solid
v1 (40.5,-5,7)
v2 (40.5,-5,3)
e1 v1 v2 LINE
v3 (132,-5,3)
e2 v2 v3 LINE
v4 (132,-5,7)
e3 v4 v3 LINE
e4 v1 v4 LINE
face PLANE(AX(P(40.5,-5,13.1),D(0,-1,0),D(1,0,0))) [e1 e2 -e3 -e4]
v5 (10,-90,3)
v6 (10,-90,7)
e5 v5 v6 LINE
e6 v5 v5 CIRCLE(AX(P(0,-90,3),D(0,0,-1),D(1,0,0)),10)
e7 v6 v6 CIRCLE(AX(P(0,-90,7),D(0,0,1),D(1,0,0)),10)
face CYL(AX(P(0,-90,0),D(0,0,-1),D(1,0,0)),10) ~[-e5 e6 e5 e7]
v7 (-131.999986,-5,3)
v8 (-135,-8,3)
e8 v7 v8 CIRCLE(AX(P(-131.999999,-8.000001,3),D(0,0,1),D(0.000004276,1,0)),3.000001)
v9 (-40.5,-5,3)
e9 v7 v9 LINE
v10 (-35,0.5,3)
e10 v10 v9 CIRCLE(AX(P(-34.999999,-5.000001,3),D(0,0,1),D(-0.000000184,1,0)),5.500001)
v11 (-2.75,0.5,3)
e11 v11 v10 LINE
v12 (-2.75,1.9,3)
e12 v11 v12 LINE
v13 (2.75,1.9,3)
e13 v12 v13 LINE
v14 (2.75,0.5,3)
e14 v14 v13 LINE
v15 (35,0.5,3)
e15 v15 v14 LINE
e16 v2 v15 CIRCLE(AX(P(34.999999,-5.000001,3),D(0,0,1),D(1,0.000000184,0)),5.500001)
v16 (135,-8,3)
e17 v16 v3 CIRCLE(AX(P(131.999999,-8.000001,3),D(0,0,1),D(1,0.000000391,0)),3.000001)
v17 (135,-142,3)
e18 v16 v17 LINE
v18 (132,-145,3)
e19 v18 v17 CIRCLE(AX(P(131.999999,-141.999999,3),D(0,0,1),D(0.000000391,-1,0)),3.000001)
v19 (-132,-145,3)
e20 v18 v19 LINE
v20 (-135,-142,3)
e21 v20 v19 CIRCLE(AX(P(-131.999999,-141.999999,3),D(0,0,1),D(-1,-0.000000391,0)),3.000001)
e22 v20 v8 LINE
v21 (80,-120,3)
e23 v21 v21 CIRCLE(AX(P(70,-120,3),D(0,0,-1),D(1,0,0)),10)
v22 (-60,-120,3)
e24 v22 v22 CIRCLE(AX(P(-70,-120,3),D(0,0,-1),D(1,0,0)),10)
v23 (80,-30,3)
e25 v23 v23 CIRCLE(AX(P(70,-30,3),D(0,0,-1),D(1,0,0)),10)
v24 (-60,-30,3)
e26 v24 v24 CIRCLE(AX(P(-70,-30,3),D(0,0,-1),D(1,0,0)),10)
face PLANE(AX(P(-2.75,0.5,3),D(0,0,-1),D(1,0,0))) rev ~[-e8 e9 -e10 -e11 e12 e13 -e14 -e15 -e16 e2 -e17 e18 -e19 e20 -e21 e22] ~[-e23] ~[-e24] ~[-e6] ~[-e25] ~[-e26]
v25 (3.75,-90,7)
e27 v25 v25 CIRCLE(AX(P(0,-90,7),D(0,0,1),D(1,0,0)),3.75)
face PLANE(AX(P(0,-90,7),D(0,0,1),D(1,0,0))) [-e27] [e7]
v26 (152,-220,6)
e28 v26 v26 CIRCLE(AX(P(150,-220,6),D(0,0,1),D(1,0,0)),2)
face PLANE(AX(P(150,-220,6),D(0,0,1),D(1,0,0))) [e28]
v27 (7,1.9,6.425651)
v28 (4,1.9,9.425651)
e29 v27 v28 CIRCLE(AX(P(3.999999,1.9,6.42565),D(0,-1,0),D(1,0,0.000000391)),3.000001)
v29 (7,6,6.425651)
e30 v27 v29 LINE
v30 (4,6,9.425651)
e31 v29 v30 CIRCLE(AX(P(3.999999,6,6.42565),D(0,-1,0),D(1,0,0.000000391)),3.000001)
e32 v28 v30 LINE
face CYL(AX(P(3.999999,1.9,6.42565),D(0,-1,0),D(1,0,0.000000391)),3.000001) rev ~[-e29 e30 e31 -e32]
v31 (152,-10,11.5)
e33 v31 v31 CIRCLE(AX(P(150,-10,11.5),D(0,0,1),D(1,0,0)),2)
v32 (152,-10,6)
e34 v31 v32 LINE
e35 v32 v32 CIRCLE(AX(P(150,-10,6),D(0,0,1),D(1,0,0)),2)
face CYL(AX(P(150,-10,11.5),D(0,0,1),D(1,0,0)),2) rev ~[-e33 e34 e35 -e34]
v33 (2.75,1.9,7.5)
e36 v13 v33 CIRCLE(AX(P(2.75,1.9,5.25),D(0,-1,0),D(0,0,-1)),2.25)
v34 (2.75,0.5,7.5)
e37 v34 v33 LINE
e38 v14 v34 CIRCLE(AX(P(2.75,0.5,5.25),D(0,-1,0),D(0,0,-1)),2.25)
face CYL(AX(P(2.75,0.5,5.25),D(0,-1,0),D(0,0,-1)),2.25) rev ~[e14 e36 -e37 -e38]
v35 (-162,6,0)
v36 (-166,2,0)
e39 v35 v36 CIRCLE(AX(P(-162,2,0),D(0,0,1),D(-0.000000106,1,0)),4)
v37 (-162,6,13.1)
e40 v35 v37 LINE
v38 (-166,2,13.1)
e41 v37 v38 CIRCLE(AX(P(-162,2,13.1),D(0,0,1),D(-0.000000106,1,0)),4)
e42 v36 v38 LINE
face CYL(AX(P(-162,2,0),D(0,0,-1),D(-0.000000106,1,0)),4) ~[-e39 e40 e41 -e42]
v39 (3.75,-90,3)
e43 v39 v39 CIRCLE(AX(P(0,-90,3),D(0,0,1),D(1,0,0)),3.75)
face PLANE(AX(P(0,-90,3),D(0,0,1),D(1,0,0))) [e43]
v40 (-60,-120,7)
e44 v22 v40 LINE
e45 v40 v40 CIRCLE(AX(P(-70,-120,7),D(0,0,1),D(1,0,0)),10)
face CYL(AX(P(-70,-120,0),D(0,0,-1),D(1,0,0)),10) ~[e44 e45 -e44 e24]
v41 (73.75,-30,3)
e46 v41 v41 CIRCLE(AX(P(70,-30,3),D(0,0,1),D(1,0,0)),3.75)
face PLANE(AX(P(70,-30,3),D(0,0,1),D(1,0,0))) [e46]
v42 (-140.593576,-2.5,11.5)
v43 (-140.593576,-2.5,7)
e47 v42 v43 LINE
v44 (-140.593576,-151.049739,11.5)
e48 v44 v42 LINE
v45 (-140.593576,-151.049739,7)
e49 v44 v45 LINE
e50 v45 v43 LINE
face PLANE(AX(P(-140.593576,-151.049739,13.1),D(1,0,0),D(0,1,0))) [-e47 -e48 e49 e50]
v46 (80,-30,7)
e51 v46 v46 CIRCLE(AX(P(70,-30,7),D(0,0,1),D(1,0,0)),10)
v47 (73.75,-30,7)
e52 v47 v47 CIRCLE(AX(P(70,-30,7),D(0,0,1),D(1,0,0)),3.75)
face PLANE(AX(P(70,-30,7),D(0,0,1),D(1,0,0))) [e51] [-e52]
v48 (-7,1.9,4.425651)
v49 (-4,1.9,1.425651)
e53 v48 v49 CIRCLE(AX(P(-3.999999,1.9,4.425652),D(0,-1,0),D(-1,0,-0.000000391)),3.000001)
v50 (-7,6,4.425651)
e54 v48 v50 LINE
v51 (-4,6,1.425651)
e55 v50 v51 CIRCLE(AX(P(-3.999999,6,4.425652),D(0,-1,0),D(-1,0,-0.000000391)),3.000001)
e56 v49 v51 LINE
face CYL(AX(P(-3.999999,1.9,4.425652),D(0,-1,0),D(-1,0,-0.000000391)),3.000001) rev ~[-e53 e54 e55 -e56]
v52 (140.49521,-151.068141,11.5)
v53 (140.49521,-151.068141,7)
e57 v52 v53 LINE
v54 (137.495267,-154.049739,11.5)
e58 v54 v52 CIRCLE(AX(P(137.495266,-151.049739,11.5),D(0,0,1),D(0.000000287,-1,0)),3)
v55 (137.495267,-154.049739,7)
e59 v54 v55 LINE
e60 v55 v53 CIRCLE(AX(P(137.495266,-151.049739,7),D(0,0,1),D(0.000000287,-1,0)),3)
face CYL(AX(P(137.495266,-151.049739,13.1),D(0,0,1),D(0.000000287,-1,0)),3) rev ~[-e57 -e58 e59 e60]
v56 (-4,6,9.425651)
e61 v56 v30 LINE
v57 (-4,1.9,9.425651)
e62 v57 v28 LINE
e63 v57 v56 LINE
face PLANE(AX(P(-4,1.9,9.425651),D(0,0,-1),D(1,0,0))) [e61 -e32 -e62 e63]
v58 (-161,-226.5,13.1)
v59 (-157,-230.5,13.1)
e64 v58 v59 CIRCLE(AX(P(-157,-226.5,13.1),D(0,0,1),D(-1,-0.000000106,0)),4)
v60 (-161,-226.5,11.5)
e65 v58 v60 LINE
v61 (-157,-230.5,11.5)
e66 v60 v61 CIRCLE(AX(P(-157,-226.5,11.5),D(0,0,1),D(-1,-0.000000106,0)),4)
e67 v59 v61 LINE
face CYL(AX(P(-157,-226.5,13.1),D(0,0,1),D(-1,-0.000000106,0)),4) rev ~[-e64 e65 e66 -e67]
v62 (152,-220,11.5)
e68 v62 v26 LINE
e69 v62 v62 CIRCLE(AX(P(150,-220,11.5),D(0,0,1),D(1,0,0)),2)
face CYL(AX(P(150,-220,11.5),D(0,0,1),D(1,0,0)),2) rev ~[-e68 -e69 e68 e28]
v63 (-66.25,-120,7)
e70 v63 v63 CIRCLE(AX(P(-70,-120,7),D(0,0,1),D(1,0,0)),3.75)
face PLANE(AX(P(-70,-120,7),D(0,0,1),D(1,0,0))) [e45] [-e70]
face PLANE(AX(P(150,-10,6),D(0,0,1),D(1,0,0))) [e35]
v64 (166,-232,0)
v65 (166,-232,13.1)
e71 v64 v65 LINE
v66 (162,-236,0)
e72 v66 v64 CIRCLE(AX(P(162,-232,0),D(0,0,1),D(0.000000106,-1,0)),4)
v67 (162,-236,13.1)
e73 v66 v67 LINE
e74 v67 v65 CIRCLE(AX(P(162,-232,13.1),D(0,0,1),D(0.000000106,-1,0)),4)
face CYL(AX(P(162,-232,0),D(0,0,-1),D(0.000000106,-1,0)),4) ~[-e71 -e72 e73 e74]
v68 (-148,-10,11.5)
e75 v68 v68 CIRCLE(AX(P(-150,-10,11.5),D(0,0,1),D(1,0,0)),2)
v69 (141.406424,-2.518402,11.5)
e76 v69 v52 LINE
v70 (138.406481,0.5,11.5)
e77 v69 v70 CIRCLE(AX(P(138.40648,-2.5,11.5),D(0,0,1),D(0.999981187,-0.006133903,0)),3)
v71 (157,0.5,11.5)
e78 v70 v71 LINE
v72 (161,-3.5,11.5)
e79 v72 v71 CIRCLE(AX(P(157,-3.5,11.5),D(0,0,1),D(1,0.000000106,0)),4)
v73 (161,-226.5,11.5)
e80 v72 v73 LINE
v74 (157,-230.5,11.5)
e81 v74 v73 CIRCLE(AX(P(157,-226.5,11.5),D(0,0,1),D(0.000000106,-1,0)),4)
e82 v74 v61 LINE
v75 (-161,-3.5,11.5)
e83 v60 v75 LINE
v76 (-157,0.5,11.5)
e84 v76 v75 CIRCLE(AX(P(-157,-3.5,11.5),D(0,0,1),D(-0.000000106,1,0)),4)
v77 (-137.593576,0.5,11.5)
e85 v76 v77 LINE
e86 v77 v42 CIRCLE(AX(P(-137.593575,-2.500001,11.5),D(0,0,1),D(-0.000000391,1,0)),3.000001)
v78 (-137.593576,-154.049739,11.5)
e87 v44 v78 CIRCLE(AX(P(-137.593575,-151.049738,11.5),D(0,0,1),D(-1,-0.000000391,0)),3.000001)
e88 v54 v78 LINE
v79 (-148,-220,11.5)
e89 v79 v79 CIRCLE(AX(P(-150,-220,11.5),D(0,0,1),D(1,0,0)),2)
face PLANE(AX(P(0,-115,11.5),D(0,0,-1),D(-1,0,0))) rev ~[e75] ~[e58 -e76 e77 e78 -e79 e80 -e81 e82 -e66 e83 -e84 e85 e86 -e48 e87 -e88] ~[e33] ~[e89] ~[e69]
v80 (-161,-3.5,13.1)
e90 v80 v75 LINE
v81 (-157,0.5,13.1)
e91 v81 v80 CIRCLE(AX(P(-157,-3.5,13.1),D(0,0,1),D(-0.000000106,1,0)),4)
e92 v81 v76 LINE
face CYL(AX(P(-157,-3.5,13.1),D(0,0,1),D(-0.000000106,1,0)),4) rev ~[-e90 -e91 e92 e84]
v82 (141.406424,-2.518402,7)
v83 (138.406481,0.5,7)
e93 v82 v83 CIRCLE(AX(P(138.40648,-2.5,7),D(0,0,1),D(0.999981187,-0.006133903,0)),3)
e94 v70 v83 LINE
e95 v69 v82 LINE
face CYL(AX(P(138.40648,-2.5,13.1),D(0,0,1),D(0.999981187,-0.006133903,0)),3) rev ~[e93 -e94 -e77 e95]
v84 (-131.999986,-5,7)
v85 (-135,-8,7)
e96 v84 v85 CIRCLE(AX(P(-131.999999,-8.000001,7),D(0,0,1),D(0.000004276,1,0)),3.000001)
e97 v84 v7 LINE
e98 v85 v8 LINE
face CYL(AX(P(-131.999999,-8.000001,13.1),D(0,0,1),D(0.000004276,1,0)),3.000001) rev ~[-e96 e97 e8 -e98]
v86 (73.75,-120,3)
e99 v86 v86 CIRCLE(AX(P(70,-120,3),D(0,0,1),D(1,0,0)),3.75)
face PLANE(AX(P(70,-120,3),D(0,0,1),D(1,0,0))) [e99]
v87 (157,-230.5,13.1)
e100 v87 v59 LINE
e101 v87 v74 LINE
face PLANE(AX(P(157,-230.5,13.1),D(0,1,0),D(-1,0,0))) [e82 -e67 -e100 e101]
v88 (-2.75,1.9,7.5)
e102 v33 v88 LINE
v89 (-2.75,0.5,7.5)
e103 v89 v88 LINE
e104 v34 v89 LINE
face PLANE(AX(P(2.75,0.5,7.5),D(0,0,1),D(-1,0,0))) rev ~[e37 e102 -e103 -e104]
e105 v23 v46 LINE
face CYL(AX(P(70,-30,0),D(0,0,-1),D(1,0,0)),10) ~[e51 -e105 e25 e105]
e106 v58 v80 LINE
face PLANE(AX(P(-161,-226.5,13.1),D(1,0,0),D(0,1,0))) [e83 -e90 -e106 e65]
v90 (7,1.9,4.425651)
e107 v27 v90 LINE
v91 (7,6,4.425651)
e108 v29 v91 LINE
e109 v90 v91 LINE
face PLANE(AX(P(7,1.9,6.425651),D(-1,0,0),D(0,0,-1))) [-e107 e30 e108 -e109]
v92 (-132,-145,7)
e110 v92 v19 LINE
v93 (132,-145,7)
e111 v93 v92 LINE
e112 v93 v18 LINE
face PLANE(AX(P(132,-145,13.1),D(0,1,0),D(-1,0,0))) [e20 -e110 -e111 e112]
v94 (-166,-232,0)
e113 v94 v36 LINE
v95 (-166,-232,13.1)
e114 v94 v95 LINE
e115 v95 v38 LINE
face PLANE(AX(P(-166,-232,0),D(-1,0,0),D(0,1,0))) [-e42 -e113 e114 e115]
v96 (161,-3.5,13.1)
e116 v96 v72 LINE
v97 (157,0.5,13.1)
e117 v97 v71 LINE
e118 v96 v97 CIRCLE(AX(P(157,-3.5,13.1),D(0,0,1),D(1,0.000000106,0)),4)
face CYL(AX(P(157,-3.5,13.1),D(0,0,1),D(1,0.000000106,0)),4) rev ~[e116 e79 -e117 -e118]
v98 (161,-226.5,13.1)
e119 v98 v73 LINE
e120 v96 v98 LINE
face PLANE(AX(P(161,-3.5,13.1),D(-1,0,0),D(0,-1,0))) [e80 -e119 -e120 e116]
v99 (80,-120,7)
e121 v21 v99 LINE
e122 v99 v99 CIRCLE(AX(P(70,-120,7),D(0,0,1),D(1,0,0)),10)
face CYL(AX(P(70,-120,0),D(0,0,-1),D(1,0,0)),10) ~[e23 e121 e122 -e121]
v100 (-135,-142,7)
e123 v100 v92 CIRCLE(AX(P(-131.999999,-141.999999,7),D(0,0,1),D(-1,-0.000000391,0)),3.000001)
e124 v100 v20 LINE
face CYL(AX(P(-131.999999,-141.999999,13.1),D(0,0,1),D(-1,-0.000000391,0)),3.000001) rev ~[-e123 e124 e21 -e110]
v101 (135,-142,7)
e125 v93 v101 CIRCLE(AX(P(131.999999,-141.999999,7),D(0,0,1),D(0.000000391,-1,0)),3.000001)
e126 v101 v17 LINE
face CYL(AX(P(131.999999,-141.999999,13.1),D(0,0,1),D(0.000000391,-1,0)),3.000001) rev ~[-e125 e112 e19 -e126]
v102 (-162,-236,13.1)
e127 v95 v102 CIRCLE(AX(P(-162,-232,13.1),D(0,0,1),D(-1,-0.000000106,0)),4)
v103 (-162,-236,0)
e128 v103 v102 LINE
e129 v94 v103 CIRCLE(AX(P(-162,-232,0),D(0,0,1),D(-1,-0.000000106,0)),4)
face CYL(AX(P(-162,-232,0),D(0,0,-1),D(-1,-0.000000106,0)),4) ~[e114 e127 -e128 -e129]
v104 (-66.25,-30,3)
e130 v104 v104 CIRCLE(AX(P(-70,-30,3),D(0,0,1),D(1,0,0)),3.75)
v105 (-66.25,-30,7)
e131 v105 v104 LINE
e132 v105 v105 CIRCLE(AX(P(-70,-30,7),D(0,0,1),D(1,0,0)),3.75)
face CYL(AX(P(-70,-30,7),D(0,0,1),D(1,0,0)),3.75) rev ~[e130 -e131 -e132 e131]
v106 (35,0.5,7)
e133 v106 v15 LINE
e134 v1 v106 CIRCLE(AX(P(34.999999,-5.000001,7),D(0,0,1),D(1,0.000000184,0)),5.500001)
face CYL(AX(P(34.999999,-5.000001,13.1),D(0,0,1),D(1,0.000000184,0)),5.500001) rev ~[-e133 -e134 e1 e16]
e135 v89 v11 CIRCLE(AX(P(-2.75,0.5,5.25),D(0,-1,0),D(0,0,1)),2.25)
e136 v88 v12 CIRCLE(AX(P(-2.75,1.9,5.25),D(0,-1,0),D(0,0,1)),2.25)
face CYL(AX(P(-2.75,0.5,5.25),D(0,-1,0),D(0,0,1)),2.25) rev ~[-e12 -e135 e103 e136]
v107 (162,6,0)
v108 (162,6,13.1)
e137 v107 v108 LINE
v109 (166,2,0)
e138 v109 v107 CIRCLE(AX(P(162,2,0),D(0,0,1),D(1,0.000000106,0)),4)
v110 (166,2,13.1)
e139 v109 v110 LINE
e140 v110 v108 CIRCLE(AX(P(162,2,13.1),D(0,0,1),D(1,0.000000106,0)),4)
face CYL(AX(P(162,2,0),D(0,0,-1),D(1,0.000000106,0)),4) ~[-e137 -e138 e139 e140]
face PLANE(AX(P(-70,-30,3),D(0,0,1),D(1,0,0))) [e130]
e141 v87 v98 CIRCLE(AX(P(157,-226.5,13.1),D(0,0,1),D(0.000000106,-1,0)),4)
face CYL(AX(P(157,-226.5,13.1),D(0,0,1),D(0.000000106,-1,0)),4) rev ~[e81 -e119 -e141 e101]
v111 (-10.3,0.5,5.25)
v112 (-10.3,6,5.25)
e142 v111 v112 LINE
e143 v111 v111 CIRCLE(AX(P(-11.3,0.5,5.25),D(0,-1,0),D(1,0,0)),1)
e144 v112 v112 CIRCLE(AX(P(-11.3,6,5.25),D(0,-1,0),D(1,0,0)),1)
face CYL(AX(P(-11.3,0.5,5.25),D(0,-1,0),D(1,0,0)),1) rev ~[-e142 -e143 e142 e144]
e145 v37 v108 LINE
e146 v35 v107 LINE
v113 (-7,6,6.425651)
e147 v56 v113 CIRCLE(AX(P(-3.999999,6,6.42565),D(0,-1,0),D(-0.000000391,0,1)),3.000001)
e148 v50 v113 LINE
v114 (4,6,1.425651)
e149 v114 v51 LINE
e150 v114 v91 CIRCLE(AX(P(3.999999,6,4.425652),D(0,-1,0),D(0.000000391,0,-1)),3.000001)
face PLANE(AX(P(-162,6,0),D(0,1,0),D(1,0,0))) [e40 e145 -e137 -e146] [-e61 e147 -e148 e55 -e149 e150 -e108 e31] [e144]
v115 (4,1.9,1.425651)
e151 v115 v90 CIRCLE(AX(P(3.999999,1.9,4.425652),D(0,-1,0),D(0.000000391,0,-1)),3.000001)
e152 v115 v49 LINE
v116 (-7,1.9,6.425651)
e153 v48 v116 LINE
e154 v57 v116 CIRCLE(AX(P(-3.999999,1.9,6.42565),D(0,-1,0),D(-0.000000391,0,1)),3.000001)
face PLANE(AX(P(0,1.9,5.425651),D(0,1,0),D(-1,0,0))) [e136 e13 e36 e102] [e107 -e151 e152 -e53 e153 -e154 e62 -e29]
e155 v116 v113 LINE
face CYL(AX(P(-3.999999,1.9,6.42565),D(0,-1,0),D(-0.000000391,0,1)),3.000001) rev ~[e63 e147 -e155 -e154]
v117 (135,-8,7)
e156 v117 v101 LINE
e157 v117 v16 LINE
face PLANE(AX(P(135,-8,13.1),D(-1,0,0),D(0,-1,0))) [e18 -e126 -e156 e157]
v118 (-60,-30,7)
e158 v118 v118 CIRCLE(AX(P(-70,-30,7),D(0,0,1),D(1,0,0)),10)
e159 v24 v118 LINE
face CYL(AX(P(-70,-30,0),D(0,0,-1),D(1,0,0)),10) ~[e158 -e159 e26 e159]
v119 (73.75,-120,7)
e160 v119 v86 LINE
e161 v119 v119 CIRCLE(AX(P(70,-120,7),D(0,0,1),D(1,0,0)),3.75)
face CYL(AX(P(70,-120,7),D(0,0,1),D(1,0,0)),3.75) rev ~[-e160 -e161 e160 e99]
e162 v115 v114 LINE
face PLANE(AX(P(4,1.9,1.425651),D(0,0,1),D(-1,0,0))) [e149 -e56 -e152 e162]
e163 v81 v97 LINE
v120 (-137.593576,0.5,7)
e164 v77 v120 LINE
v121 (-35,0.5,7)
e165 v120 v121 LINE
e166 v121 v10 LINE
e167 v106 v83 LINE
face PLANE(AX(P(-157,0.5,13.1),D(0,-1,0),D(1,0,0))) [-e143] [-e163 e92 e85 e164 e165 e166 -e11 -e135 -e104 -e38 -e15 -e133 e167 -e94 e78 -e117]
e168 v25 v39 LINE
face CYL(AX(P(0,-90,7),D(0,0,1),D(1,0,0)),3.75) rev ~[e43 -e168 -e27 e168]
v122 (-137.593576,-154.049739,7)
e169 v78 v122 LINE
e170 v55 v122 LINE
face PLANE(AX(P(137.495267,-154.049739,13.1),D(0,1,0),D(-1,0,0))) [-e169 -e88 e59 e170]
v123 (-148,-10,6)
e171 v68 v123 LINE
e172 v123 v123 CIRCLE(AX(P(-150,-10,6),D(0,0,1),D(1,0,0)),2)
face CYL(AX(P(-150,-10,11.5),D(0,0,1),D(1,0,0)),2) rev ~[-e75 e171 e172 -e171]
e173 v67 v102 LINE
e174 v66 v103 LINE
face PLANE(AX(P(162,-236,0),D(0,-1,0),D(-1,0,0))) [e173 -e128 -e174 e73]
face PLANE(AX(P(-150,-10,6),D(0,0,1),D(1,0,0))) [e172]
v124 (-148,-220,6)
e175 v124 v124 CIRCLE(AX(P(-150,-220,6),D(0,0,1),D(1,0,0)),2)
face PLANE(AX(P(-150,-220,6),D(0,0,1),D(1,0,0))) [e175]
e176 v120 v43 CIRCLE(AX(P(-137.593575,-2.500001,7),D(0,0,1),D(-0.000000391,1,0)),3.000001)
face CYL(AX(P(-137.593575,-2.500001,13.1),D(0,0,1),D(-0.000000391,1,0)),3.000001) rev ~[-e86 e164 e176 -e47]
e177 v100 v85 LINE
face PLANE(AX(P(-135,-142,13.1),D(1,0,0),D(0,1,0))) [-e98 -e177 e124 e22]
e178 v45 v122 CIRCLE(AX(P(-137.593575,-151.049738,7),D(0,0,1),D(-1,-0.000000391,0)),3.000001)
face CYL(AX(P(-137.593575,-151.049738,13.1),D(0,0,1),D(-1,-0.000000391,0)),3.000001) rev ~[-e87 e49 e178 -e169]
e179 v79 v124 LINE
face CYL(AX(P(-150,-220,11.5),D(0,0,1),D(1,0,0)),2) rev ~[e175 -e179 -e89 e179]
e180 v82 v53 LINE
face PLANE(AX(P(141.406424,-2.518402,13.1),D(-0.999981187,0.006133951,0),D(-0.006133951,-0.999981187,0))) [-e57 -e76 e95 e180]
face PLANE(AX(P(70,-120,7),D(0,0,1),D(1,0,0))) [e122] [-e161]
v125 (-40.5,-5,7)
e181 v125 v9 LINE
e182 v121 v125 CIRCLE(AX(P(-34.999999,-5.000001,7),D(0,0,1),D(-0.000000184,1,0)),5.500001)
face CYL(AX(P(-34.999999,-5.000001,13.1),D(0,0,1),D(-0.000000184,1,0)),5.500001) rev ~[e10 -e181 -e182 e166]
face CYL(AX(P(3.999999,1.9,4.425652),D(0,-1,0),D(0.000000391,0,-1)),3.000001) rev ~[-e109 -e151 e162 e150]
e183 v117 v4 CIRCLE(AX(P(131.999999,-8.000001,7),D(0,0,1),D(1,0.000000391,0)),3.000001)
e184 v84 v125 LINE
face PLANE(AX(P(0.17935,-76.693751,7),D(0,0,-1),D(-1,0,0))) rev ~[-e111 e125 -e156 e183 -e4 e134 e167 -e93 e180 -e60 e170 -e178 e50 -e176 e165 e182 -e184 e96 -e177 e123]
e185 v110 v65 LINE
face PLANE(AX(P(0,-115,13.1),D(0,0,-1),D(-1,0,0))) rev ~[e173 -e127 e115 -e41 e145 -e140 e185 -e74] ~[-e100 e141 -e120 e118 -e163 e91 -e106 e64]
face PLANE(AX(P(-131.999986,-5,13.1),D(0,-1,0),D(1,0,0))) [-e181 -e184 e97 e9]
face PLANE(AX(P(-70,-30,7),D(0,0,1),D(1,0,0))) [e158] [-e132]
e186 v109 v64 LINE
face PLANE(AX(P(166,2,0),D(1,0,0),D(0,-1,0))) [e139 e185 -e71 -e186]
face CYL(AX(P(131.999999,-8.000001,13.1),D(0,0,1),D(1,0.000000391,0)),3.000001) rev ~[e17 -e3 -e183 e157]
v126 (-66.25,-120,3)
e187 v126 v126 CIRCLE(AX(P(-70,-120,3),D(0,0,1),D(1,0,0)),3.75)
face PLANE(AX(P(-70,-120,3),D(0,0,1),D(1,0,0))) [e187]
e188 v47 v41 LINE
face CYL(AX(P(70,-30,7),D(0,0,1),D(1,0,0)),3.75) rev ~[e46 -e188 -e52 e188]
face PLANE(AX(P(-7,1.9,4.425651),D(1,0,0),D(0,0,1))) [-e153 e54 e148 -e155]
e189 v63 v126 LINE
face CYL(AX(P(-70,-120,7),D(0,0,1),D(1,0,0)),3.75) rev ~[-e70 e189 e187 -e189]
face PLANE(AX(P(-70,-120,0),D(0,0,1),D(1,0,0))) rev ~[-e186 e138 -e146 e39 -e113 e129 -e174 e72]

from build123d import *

# Parameters (mm, degrees)
PAD_DEPTH       = 13.1
POCKET_DEPTH    = 10.1
POCKET006_DEPTH = 6.1
SKETCH012_R     = 10
PAD003_DEPTH    = 7
SKETCH015_R     = 1
POCKET003_DEPTH = 6
POCKET004_DEPTH = 4.1
SKETCH013_R     = 3.75
POCKET001_DEPTH = 4
POCKET002_DEPTH = 1.6
SKETCH017_R     = 2
POCKET005_DEPTH = 5.5


with BuildPart() as part:
    # Sketch → Pad (new body)
    with BuildSketch(Plane.XY):
        with BuildLine():
            Line((-162, 6), (162, 6))
            ThreePointArc((166, 2), (164.828427, 4.828427), (162, 6))
            Line((166, 2), (166, -232))
            ThreePointArc((162, -236), (164.828427, -234.828427), (166, -232))
            Line((162, -236), (-162, -236))
            ThreePointArc((-166, -232), (-164.828427, -234.828427), (-162, -236))
            Line((-166, -232), (-166, 2))
            ThreePointArc((-162, 6), (-164.828427, 4.828427), (-166, 2))
        make_face()
    extrude(amount=PAD_DEPTH)

    # Sketch001 → Pocket (cut)
    with BuildSketch(Plane.XY.offset(13.1)):
        with BuildLine():
            Line((135, -8), (135, -142))
            ThreePointArc((132, -145), (134.12132, -144.12132), (135, -142))
            Line((132, -145), (-132, -145))
            ThreePointArc((-135, -142), (-134.12132, -144.12132), (-132, -145))
            Line((-135, -142), (-135, -8))
            ThreePointArc((-131.999986, -5), (-134.121315, -5.878675), (-135, -8))
            Line((-131.999986, -5), (-40.5, -5))
            ThreePointArc((-35, 0.5), (-38.889087, -1.110913), (-40.5, -5))
            Line((35, 0.5), (-35, 0.5))
            ThreePointArc((40.5, -5), (38.889087, -1.110913), (35, 0.5))
            Line((40.5, -5), (132, -5))
            ThreePointArc((135, -8), (134.12132, -5.87868), (132, -5))
        make_face()
    extrude(amount=-POCKET_DEPTH, mode=Mode.SUBTRACT)

    # Sketch018 → Pocket006 (cut)
    with BuildSketch(Plane.XY.offset(13.1)):
        with BuildLine():
            Line((-137.593576, 0.5), (138.406481, 0.5))
            ThreePointArc((141.406424, -2.518402), (140.534297, -0.385196), (138.406481, 0.5))
            Line((141.406424, -2.518402), (140.49521, -151.068141))
            ThreePointArc((137.495267, -154.049739), (139.610071, -153.177555), (140.49521, -151.068141))
            Line((137.495267, -154.049739), (-137.593576, -154.049739))
            ThreePointArc((-140.593576, -151.049739), (-139.714896, -153.171059), (-137.593576, -154.049739))
            Line((-140.593576, -151.049739), (-140.593576, -2.5))
            ThreePointArc((-137.593576, 0.5), (-139.714896, -0.37868), (-140.593576, -2.5))
        make_face()
    extrude(amount=-POCKET006_DEPTH, mode=Mode.SUBTRACT)

    # Sketch012 → Pad003 (join)
    with BuildSketch(Plane.XY):
        with Locations((-70, -120)):
            Circle(SKETCH012_R)
        with Locations((70, -120)):
            Circle(SKETCH012_R)
        with Locations((70, -30)):
            Circle(SKETCH012_R)
        with Locations((0, -90)):
            Circle(SKETCH012_R)
        with Locations((-70, -30)):
            Circle(SKETCH012_R)
    extrude(amount=PAD003_DEPTH)

    # Sketch015 → Pocket003 (cut)
    with BuildSketch(Plane.XZ.offset(-0.5)):
        with Locations((-11.3, 5.25)):
            Circle(SKETCH015_R)
        with BuildLine():
            ThreePointArc((2.75, 3), (5, 5.25), (2.75, 7.5))
            Line((2.75, 7.5), (-2.75, 7.5))
            ThreePointArc((-2.75, 7.5), (-5, 5.25), (-2.75, 3))
            Line((-2.75, 3), (2.75, 3))
        make_face()
    extrude(amount=-POCKET003_DEPTH, mode=Mode.SUBTRACT)

    # Sketch016 → Pocket004 (cut)
    with BuildSketch(Plane.XZ.offset(-1.9)):
        with BuildLine():
            Line((-4, 9.425651), (4, 9.425651))
            ThreePointArc((7, 6.425651), (6.12132, 8.546971), (4, 9.425651))
            Line((7, 6.425651), (7, 4.425651))
            ThreePointArc((4, 1.425651), (6.12132, 2.304331), (7, 4.425651))
            Line((4, 1.425651), (-4, 1.425651))
            ThreePointArc((-7, 4.425651), (-6.12132, 2.304331), (-4, 1.425651))
            Line((-7, 4.425651), (-7, 6.425651))
            ThreePointArc((-4, 9.425651), (-6.12132, 8.546971), (-7, 6.425651))
        make_face()
    extrude(amount=-POCKET004_DEPTH, mode=Mode.SUBTRACT)

    # Sketch013 → Pocket001 (cut)
    with BuildSketch(Plane.XY.offset(7)):
        with Locations((-70, -30)):
            Circle(SKETCH013_R)
        with Locations((-70, -120)):
            Circle(SKETCH013_R)
        with Locations((70, -120)):
            Circle(SKETCH013_R)
        with Locations((70, -30)):
            Circle(SKETCH013_R)
        with Locations((0, -90)):
            Circle(SKETCH013_R)
    extrude(amount=-POCKET001_DEPTH, mode=Mode.SUBTRACT)

    # Sketch014 → Pocket002 (cut)
    with BuildSketch(Plane.XY.offset(13.1)):
        with BuildLine():
            Line((-157, 0.5), (157, 0.5))
            ThreePointArc((161, -3.5), (159.828427, -0.671573), (157, 0.5))
            Line((161, -3.5), (161, -226.5))
            ThreePointArc((157, -230.5), (159.828427, -229.328427), (161, -226.5))
            Line((157, -230.5), (-157, -230.5))
            ThreePointArc((-161, -226.5), (-159.828427, -229.328427), (-157, -230.5))
            Line((-161, -226.5), (-161, -3.5))
            ThreePointArc((-157, 0.5), (-159.828427, -0.671573), (-161, -3.5))
        make_face()
    extrude(amount=-POCKET002_DEPTH, mode=Mode.SUBTRACT)

    # Sketch017 → Pocket005 (cut)
    with BuildSketch(Plane.XY.offset(11.5)):
        with Locations((-150, -10)):
            Circle(SKETCH017_R)
        with Locations((-150, -220)):
            Circle(SKETCH017_R)
        with Locations((150, -10)):
            Circle(SKETCH017_R)
        with Locations((150, -220)):
            Circle(SKETCH017_R)
    extrude(amount=-POCKET005_DEPTH, mode=Mode.SUBTRACT)


solid = part.part
